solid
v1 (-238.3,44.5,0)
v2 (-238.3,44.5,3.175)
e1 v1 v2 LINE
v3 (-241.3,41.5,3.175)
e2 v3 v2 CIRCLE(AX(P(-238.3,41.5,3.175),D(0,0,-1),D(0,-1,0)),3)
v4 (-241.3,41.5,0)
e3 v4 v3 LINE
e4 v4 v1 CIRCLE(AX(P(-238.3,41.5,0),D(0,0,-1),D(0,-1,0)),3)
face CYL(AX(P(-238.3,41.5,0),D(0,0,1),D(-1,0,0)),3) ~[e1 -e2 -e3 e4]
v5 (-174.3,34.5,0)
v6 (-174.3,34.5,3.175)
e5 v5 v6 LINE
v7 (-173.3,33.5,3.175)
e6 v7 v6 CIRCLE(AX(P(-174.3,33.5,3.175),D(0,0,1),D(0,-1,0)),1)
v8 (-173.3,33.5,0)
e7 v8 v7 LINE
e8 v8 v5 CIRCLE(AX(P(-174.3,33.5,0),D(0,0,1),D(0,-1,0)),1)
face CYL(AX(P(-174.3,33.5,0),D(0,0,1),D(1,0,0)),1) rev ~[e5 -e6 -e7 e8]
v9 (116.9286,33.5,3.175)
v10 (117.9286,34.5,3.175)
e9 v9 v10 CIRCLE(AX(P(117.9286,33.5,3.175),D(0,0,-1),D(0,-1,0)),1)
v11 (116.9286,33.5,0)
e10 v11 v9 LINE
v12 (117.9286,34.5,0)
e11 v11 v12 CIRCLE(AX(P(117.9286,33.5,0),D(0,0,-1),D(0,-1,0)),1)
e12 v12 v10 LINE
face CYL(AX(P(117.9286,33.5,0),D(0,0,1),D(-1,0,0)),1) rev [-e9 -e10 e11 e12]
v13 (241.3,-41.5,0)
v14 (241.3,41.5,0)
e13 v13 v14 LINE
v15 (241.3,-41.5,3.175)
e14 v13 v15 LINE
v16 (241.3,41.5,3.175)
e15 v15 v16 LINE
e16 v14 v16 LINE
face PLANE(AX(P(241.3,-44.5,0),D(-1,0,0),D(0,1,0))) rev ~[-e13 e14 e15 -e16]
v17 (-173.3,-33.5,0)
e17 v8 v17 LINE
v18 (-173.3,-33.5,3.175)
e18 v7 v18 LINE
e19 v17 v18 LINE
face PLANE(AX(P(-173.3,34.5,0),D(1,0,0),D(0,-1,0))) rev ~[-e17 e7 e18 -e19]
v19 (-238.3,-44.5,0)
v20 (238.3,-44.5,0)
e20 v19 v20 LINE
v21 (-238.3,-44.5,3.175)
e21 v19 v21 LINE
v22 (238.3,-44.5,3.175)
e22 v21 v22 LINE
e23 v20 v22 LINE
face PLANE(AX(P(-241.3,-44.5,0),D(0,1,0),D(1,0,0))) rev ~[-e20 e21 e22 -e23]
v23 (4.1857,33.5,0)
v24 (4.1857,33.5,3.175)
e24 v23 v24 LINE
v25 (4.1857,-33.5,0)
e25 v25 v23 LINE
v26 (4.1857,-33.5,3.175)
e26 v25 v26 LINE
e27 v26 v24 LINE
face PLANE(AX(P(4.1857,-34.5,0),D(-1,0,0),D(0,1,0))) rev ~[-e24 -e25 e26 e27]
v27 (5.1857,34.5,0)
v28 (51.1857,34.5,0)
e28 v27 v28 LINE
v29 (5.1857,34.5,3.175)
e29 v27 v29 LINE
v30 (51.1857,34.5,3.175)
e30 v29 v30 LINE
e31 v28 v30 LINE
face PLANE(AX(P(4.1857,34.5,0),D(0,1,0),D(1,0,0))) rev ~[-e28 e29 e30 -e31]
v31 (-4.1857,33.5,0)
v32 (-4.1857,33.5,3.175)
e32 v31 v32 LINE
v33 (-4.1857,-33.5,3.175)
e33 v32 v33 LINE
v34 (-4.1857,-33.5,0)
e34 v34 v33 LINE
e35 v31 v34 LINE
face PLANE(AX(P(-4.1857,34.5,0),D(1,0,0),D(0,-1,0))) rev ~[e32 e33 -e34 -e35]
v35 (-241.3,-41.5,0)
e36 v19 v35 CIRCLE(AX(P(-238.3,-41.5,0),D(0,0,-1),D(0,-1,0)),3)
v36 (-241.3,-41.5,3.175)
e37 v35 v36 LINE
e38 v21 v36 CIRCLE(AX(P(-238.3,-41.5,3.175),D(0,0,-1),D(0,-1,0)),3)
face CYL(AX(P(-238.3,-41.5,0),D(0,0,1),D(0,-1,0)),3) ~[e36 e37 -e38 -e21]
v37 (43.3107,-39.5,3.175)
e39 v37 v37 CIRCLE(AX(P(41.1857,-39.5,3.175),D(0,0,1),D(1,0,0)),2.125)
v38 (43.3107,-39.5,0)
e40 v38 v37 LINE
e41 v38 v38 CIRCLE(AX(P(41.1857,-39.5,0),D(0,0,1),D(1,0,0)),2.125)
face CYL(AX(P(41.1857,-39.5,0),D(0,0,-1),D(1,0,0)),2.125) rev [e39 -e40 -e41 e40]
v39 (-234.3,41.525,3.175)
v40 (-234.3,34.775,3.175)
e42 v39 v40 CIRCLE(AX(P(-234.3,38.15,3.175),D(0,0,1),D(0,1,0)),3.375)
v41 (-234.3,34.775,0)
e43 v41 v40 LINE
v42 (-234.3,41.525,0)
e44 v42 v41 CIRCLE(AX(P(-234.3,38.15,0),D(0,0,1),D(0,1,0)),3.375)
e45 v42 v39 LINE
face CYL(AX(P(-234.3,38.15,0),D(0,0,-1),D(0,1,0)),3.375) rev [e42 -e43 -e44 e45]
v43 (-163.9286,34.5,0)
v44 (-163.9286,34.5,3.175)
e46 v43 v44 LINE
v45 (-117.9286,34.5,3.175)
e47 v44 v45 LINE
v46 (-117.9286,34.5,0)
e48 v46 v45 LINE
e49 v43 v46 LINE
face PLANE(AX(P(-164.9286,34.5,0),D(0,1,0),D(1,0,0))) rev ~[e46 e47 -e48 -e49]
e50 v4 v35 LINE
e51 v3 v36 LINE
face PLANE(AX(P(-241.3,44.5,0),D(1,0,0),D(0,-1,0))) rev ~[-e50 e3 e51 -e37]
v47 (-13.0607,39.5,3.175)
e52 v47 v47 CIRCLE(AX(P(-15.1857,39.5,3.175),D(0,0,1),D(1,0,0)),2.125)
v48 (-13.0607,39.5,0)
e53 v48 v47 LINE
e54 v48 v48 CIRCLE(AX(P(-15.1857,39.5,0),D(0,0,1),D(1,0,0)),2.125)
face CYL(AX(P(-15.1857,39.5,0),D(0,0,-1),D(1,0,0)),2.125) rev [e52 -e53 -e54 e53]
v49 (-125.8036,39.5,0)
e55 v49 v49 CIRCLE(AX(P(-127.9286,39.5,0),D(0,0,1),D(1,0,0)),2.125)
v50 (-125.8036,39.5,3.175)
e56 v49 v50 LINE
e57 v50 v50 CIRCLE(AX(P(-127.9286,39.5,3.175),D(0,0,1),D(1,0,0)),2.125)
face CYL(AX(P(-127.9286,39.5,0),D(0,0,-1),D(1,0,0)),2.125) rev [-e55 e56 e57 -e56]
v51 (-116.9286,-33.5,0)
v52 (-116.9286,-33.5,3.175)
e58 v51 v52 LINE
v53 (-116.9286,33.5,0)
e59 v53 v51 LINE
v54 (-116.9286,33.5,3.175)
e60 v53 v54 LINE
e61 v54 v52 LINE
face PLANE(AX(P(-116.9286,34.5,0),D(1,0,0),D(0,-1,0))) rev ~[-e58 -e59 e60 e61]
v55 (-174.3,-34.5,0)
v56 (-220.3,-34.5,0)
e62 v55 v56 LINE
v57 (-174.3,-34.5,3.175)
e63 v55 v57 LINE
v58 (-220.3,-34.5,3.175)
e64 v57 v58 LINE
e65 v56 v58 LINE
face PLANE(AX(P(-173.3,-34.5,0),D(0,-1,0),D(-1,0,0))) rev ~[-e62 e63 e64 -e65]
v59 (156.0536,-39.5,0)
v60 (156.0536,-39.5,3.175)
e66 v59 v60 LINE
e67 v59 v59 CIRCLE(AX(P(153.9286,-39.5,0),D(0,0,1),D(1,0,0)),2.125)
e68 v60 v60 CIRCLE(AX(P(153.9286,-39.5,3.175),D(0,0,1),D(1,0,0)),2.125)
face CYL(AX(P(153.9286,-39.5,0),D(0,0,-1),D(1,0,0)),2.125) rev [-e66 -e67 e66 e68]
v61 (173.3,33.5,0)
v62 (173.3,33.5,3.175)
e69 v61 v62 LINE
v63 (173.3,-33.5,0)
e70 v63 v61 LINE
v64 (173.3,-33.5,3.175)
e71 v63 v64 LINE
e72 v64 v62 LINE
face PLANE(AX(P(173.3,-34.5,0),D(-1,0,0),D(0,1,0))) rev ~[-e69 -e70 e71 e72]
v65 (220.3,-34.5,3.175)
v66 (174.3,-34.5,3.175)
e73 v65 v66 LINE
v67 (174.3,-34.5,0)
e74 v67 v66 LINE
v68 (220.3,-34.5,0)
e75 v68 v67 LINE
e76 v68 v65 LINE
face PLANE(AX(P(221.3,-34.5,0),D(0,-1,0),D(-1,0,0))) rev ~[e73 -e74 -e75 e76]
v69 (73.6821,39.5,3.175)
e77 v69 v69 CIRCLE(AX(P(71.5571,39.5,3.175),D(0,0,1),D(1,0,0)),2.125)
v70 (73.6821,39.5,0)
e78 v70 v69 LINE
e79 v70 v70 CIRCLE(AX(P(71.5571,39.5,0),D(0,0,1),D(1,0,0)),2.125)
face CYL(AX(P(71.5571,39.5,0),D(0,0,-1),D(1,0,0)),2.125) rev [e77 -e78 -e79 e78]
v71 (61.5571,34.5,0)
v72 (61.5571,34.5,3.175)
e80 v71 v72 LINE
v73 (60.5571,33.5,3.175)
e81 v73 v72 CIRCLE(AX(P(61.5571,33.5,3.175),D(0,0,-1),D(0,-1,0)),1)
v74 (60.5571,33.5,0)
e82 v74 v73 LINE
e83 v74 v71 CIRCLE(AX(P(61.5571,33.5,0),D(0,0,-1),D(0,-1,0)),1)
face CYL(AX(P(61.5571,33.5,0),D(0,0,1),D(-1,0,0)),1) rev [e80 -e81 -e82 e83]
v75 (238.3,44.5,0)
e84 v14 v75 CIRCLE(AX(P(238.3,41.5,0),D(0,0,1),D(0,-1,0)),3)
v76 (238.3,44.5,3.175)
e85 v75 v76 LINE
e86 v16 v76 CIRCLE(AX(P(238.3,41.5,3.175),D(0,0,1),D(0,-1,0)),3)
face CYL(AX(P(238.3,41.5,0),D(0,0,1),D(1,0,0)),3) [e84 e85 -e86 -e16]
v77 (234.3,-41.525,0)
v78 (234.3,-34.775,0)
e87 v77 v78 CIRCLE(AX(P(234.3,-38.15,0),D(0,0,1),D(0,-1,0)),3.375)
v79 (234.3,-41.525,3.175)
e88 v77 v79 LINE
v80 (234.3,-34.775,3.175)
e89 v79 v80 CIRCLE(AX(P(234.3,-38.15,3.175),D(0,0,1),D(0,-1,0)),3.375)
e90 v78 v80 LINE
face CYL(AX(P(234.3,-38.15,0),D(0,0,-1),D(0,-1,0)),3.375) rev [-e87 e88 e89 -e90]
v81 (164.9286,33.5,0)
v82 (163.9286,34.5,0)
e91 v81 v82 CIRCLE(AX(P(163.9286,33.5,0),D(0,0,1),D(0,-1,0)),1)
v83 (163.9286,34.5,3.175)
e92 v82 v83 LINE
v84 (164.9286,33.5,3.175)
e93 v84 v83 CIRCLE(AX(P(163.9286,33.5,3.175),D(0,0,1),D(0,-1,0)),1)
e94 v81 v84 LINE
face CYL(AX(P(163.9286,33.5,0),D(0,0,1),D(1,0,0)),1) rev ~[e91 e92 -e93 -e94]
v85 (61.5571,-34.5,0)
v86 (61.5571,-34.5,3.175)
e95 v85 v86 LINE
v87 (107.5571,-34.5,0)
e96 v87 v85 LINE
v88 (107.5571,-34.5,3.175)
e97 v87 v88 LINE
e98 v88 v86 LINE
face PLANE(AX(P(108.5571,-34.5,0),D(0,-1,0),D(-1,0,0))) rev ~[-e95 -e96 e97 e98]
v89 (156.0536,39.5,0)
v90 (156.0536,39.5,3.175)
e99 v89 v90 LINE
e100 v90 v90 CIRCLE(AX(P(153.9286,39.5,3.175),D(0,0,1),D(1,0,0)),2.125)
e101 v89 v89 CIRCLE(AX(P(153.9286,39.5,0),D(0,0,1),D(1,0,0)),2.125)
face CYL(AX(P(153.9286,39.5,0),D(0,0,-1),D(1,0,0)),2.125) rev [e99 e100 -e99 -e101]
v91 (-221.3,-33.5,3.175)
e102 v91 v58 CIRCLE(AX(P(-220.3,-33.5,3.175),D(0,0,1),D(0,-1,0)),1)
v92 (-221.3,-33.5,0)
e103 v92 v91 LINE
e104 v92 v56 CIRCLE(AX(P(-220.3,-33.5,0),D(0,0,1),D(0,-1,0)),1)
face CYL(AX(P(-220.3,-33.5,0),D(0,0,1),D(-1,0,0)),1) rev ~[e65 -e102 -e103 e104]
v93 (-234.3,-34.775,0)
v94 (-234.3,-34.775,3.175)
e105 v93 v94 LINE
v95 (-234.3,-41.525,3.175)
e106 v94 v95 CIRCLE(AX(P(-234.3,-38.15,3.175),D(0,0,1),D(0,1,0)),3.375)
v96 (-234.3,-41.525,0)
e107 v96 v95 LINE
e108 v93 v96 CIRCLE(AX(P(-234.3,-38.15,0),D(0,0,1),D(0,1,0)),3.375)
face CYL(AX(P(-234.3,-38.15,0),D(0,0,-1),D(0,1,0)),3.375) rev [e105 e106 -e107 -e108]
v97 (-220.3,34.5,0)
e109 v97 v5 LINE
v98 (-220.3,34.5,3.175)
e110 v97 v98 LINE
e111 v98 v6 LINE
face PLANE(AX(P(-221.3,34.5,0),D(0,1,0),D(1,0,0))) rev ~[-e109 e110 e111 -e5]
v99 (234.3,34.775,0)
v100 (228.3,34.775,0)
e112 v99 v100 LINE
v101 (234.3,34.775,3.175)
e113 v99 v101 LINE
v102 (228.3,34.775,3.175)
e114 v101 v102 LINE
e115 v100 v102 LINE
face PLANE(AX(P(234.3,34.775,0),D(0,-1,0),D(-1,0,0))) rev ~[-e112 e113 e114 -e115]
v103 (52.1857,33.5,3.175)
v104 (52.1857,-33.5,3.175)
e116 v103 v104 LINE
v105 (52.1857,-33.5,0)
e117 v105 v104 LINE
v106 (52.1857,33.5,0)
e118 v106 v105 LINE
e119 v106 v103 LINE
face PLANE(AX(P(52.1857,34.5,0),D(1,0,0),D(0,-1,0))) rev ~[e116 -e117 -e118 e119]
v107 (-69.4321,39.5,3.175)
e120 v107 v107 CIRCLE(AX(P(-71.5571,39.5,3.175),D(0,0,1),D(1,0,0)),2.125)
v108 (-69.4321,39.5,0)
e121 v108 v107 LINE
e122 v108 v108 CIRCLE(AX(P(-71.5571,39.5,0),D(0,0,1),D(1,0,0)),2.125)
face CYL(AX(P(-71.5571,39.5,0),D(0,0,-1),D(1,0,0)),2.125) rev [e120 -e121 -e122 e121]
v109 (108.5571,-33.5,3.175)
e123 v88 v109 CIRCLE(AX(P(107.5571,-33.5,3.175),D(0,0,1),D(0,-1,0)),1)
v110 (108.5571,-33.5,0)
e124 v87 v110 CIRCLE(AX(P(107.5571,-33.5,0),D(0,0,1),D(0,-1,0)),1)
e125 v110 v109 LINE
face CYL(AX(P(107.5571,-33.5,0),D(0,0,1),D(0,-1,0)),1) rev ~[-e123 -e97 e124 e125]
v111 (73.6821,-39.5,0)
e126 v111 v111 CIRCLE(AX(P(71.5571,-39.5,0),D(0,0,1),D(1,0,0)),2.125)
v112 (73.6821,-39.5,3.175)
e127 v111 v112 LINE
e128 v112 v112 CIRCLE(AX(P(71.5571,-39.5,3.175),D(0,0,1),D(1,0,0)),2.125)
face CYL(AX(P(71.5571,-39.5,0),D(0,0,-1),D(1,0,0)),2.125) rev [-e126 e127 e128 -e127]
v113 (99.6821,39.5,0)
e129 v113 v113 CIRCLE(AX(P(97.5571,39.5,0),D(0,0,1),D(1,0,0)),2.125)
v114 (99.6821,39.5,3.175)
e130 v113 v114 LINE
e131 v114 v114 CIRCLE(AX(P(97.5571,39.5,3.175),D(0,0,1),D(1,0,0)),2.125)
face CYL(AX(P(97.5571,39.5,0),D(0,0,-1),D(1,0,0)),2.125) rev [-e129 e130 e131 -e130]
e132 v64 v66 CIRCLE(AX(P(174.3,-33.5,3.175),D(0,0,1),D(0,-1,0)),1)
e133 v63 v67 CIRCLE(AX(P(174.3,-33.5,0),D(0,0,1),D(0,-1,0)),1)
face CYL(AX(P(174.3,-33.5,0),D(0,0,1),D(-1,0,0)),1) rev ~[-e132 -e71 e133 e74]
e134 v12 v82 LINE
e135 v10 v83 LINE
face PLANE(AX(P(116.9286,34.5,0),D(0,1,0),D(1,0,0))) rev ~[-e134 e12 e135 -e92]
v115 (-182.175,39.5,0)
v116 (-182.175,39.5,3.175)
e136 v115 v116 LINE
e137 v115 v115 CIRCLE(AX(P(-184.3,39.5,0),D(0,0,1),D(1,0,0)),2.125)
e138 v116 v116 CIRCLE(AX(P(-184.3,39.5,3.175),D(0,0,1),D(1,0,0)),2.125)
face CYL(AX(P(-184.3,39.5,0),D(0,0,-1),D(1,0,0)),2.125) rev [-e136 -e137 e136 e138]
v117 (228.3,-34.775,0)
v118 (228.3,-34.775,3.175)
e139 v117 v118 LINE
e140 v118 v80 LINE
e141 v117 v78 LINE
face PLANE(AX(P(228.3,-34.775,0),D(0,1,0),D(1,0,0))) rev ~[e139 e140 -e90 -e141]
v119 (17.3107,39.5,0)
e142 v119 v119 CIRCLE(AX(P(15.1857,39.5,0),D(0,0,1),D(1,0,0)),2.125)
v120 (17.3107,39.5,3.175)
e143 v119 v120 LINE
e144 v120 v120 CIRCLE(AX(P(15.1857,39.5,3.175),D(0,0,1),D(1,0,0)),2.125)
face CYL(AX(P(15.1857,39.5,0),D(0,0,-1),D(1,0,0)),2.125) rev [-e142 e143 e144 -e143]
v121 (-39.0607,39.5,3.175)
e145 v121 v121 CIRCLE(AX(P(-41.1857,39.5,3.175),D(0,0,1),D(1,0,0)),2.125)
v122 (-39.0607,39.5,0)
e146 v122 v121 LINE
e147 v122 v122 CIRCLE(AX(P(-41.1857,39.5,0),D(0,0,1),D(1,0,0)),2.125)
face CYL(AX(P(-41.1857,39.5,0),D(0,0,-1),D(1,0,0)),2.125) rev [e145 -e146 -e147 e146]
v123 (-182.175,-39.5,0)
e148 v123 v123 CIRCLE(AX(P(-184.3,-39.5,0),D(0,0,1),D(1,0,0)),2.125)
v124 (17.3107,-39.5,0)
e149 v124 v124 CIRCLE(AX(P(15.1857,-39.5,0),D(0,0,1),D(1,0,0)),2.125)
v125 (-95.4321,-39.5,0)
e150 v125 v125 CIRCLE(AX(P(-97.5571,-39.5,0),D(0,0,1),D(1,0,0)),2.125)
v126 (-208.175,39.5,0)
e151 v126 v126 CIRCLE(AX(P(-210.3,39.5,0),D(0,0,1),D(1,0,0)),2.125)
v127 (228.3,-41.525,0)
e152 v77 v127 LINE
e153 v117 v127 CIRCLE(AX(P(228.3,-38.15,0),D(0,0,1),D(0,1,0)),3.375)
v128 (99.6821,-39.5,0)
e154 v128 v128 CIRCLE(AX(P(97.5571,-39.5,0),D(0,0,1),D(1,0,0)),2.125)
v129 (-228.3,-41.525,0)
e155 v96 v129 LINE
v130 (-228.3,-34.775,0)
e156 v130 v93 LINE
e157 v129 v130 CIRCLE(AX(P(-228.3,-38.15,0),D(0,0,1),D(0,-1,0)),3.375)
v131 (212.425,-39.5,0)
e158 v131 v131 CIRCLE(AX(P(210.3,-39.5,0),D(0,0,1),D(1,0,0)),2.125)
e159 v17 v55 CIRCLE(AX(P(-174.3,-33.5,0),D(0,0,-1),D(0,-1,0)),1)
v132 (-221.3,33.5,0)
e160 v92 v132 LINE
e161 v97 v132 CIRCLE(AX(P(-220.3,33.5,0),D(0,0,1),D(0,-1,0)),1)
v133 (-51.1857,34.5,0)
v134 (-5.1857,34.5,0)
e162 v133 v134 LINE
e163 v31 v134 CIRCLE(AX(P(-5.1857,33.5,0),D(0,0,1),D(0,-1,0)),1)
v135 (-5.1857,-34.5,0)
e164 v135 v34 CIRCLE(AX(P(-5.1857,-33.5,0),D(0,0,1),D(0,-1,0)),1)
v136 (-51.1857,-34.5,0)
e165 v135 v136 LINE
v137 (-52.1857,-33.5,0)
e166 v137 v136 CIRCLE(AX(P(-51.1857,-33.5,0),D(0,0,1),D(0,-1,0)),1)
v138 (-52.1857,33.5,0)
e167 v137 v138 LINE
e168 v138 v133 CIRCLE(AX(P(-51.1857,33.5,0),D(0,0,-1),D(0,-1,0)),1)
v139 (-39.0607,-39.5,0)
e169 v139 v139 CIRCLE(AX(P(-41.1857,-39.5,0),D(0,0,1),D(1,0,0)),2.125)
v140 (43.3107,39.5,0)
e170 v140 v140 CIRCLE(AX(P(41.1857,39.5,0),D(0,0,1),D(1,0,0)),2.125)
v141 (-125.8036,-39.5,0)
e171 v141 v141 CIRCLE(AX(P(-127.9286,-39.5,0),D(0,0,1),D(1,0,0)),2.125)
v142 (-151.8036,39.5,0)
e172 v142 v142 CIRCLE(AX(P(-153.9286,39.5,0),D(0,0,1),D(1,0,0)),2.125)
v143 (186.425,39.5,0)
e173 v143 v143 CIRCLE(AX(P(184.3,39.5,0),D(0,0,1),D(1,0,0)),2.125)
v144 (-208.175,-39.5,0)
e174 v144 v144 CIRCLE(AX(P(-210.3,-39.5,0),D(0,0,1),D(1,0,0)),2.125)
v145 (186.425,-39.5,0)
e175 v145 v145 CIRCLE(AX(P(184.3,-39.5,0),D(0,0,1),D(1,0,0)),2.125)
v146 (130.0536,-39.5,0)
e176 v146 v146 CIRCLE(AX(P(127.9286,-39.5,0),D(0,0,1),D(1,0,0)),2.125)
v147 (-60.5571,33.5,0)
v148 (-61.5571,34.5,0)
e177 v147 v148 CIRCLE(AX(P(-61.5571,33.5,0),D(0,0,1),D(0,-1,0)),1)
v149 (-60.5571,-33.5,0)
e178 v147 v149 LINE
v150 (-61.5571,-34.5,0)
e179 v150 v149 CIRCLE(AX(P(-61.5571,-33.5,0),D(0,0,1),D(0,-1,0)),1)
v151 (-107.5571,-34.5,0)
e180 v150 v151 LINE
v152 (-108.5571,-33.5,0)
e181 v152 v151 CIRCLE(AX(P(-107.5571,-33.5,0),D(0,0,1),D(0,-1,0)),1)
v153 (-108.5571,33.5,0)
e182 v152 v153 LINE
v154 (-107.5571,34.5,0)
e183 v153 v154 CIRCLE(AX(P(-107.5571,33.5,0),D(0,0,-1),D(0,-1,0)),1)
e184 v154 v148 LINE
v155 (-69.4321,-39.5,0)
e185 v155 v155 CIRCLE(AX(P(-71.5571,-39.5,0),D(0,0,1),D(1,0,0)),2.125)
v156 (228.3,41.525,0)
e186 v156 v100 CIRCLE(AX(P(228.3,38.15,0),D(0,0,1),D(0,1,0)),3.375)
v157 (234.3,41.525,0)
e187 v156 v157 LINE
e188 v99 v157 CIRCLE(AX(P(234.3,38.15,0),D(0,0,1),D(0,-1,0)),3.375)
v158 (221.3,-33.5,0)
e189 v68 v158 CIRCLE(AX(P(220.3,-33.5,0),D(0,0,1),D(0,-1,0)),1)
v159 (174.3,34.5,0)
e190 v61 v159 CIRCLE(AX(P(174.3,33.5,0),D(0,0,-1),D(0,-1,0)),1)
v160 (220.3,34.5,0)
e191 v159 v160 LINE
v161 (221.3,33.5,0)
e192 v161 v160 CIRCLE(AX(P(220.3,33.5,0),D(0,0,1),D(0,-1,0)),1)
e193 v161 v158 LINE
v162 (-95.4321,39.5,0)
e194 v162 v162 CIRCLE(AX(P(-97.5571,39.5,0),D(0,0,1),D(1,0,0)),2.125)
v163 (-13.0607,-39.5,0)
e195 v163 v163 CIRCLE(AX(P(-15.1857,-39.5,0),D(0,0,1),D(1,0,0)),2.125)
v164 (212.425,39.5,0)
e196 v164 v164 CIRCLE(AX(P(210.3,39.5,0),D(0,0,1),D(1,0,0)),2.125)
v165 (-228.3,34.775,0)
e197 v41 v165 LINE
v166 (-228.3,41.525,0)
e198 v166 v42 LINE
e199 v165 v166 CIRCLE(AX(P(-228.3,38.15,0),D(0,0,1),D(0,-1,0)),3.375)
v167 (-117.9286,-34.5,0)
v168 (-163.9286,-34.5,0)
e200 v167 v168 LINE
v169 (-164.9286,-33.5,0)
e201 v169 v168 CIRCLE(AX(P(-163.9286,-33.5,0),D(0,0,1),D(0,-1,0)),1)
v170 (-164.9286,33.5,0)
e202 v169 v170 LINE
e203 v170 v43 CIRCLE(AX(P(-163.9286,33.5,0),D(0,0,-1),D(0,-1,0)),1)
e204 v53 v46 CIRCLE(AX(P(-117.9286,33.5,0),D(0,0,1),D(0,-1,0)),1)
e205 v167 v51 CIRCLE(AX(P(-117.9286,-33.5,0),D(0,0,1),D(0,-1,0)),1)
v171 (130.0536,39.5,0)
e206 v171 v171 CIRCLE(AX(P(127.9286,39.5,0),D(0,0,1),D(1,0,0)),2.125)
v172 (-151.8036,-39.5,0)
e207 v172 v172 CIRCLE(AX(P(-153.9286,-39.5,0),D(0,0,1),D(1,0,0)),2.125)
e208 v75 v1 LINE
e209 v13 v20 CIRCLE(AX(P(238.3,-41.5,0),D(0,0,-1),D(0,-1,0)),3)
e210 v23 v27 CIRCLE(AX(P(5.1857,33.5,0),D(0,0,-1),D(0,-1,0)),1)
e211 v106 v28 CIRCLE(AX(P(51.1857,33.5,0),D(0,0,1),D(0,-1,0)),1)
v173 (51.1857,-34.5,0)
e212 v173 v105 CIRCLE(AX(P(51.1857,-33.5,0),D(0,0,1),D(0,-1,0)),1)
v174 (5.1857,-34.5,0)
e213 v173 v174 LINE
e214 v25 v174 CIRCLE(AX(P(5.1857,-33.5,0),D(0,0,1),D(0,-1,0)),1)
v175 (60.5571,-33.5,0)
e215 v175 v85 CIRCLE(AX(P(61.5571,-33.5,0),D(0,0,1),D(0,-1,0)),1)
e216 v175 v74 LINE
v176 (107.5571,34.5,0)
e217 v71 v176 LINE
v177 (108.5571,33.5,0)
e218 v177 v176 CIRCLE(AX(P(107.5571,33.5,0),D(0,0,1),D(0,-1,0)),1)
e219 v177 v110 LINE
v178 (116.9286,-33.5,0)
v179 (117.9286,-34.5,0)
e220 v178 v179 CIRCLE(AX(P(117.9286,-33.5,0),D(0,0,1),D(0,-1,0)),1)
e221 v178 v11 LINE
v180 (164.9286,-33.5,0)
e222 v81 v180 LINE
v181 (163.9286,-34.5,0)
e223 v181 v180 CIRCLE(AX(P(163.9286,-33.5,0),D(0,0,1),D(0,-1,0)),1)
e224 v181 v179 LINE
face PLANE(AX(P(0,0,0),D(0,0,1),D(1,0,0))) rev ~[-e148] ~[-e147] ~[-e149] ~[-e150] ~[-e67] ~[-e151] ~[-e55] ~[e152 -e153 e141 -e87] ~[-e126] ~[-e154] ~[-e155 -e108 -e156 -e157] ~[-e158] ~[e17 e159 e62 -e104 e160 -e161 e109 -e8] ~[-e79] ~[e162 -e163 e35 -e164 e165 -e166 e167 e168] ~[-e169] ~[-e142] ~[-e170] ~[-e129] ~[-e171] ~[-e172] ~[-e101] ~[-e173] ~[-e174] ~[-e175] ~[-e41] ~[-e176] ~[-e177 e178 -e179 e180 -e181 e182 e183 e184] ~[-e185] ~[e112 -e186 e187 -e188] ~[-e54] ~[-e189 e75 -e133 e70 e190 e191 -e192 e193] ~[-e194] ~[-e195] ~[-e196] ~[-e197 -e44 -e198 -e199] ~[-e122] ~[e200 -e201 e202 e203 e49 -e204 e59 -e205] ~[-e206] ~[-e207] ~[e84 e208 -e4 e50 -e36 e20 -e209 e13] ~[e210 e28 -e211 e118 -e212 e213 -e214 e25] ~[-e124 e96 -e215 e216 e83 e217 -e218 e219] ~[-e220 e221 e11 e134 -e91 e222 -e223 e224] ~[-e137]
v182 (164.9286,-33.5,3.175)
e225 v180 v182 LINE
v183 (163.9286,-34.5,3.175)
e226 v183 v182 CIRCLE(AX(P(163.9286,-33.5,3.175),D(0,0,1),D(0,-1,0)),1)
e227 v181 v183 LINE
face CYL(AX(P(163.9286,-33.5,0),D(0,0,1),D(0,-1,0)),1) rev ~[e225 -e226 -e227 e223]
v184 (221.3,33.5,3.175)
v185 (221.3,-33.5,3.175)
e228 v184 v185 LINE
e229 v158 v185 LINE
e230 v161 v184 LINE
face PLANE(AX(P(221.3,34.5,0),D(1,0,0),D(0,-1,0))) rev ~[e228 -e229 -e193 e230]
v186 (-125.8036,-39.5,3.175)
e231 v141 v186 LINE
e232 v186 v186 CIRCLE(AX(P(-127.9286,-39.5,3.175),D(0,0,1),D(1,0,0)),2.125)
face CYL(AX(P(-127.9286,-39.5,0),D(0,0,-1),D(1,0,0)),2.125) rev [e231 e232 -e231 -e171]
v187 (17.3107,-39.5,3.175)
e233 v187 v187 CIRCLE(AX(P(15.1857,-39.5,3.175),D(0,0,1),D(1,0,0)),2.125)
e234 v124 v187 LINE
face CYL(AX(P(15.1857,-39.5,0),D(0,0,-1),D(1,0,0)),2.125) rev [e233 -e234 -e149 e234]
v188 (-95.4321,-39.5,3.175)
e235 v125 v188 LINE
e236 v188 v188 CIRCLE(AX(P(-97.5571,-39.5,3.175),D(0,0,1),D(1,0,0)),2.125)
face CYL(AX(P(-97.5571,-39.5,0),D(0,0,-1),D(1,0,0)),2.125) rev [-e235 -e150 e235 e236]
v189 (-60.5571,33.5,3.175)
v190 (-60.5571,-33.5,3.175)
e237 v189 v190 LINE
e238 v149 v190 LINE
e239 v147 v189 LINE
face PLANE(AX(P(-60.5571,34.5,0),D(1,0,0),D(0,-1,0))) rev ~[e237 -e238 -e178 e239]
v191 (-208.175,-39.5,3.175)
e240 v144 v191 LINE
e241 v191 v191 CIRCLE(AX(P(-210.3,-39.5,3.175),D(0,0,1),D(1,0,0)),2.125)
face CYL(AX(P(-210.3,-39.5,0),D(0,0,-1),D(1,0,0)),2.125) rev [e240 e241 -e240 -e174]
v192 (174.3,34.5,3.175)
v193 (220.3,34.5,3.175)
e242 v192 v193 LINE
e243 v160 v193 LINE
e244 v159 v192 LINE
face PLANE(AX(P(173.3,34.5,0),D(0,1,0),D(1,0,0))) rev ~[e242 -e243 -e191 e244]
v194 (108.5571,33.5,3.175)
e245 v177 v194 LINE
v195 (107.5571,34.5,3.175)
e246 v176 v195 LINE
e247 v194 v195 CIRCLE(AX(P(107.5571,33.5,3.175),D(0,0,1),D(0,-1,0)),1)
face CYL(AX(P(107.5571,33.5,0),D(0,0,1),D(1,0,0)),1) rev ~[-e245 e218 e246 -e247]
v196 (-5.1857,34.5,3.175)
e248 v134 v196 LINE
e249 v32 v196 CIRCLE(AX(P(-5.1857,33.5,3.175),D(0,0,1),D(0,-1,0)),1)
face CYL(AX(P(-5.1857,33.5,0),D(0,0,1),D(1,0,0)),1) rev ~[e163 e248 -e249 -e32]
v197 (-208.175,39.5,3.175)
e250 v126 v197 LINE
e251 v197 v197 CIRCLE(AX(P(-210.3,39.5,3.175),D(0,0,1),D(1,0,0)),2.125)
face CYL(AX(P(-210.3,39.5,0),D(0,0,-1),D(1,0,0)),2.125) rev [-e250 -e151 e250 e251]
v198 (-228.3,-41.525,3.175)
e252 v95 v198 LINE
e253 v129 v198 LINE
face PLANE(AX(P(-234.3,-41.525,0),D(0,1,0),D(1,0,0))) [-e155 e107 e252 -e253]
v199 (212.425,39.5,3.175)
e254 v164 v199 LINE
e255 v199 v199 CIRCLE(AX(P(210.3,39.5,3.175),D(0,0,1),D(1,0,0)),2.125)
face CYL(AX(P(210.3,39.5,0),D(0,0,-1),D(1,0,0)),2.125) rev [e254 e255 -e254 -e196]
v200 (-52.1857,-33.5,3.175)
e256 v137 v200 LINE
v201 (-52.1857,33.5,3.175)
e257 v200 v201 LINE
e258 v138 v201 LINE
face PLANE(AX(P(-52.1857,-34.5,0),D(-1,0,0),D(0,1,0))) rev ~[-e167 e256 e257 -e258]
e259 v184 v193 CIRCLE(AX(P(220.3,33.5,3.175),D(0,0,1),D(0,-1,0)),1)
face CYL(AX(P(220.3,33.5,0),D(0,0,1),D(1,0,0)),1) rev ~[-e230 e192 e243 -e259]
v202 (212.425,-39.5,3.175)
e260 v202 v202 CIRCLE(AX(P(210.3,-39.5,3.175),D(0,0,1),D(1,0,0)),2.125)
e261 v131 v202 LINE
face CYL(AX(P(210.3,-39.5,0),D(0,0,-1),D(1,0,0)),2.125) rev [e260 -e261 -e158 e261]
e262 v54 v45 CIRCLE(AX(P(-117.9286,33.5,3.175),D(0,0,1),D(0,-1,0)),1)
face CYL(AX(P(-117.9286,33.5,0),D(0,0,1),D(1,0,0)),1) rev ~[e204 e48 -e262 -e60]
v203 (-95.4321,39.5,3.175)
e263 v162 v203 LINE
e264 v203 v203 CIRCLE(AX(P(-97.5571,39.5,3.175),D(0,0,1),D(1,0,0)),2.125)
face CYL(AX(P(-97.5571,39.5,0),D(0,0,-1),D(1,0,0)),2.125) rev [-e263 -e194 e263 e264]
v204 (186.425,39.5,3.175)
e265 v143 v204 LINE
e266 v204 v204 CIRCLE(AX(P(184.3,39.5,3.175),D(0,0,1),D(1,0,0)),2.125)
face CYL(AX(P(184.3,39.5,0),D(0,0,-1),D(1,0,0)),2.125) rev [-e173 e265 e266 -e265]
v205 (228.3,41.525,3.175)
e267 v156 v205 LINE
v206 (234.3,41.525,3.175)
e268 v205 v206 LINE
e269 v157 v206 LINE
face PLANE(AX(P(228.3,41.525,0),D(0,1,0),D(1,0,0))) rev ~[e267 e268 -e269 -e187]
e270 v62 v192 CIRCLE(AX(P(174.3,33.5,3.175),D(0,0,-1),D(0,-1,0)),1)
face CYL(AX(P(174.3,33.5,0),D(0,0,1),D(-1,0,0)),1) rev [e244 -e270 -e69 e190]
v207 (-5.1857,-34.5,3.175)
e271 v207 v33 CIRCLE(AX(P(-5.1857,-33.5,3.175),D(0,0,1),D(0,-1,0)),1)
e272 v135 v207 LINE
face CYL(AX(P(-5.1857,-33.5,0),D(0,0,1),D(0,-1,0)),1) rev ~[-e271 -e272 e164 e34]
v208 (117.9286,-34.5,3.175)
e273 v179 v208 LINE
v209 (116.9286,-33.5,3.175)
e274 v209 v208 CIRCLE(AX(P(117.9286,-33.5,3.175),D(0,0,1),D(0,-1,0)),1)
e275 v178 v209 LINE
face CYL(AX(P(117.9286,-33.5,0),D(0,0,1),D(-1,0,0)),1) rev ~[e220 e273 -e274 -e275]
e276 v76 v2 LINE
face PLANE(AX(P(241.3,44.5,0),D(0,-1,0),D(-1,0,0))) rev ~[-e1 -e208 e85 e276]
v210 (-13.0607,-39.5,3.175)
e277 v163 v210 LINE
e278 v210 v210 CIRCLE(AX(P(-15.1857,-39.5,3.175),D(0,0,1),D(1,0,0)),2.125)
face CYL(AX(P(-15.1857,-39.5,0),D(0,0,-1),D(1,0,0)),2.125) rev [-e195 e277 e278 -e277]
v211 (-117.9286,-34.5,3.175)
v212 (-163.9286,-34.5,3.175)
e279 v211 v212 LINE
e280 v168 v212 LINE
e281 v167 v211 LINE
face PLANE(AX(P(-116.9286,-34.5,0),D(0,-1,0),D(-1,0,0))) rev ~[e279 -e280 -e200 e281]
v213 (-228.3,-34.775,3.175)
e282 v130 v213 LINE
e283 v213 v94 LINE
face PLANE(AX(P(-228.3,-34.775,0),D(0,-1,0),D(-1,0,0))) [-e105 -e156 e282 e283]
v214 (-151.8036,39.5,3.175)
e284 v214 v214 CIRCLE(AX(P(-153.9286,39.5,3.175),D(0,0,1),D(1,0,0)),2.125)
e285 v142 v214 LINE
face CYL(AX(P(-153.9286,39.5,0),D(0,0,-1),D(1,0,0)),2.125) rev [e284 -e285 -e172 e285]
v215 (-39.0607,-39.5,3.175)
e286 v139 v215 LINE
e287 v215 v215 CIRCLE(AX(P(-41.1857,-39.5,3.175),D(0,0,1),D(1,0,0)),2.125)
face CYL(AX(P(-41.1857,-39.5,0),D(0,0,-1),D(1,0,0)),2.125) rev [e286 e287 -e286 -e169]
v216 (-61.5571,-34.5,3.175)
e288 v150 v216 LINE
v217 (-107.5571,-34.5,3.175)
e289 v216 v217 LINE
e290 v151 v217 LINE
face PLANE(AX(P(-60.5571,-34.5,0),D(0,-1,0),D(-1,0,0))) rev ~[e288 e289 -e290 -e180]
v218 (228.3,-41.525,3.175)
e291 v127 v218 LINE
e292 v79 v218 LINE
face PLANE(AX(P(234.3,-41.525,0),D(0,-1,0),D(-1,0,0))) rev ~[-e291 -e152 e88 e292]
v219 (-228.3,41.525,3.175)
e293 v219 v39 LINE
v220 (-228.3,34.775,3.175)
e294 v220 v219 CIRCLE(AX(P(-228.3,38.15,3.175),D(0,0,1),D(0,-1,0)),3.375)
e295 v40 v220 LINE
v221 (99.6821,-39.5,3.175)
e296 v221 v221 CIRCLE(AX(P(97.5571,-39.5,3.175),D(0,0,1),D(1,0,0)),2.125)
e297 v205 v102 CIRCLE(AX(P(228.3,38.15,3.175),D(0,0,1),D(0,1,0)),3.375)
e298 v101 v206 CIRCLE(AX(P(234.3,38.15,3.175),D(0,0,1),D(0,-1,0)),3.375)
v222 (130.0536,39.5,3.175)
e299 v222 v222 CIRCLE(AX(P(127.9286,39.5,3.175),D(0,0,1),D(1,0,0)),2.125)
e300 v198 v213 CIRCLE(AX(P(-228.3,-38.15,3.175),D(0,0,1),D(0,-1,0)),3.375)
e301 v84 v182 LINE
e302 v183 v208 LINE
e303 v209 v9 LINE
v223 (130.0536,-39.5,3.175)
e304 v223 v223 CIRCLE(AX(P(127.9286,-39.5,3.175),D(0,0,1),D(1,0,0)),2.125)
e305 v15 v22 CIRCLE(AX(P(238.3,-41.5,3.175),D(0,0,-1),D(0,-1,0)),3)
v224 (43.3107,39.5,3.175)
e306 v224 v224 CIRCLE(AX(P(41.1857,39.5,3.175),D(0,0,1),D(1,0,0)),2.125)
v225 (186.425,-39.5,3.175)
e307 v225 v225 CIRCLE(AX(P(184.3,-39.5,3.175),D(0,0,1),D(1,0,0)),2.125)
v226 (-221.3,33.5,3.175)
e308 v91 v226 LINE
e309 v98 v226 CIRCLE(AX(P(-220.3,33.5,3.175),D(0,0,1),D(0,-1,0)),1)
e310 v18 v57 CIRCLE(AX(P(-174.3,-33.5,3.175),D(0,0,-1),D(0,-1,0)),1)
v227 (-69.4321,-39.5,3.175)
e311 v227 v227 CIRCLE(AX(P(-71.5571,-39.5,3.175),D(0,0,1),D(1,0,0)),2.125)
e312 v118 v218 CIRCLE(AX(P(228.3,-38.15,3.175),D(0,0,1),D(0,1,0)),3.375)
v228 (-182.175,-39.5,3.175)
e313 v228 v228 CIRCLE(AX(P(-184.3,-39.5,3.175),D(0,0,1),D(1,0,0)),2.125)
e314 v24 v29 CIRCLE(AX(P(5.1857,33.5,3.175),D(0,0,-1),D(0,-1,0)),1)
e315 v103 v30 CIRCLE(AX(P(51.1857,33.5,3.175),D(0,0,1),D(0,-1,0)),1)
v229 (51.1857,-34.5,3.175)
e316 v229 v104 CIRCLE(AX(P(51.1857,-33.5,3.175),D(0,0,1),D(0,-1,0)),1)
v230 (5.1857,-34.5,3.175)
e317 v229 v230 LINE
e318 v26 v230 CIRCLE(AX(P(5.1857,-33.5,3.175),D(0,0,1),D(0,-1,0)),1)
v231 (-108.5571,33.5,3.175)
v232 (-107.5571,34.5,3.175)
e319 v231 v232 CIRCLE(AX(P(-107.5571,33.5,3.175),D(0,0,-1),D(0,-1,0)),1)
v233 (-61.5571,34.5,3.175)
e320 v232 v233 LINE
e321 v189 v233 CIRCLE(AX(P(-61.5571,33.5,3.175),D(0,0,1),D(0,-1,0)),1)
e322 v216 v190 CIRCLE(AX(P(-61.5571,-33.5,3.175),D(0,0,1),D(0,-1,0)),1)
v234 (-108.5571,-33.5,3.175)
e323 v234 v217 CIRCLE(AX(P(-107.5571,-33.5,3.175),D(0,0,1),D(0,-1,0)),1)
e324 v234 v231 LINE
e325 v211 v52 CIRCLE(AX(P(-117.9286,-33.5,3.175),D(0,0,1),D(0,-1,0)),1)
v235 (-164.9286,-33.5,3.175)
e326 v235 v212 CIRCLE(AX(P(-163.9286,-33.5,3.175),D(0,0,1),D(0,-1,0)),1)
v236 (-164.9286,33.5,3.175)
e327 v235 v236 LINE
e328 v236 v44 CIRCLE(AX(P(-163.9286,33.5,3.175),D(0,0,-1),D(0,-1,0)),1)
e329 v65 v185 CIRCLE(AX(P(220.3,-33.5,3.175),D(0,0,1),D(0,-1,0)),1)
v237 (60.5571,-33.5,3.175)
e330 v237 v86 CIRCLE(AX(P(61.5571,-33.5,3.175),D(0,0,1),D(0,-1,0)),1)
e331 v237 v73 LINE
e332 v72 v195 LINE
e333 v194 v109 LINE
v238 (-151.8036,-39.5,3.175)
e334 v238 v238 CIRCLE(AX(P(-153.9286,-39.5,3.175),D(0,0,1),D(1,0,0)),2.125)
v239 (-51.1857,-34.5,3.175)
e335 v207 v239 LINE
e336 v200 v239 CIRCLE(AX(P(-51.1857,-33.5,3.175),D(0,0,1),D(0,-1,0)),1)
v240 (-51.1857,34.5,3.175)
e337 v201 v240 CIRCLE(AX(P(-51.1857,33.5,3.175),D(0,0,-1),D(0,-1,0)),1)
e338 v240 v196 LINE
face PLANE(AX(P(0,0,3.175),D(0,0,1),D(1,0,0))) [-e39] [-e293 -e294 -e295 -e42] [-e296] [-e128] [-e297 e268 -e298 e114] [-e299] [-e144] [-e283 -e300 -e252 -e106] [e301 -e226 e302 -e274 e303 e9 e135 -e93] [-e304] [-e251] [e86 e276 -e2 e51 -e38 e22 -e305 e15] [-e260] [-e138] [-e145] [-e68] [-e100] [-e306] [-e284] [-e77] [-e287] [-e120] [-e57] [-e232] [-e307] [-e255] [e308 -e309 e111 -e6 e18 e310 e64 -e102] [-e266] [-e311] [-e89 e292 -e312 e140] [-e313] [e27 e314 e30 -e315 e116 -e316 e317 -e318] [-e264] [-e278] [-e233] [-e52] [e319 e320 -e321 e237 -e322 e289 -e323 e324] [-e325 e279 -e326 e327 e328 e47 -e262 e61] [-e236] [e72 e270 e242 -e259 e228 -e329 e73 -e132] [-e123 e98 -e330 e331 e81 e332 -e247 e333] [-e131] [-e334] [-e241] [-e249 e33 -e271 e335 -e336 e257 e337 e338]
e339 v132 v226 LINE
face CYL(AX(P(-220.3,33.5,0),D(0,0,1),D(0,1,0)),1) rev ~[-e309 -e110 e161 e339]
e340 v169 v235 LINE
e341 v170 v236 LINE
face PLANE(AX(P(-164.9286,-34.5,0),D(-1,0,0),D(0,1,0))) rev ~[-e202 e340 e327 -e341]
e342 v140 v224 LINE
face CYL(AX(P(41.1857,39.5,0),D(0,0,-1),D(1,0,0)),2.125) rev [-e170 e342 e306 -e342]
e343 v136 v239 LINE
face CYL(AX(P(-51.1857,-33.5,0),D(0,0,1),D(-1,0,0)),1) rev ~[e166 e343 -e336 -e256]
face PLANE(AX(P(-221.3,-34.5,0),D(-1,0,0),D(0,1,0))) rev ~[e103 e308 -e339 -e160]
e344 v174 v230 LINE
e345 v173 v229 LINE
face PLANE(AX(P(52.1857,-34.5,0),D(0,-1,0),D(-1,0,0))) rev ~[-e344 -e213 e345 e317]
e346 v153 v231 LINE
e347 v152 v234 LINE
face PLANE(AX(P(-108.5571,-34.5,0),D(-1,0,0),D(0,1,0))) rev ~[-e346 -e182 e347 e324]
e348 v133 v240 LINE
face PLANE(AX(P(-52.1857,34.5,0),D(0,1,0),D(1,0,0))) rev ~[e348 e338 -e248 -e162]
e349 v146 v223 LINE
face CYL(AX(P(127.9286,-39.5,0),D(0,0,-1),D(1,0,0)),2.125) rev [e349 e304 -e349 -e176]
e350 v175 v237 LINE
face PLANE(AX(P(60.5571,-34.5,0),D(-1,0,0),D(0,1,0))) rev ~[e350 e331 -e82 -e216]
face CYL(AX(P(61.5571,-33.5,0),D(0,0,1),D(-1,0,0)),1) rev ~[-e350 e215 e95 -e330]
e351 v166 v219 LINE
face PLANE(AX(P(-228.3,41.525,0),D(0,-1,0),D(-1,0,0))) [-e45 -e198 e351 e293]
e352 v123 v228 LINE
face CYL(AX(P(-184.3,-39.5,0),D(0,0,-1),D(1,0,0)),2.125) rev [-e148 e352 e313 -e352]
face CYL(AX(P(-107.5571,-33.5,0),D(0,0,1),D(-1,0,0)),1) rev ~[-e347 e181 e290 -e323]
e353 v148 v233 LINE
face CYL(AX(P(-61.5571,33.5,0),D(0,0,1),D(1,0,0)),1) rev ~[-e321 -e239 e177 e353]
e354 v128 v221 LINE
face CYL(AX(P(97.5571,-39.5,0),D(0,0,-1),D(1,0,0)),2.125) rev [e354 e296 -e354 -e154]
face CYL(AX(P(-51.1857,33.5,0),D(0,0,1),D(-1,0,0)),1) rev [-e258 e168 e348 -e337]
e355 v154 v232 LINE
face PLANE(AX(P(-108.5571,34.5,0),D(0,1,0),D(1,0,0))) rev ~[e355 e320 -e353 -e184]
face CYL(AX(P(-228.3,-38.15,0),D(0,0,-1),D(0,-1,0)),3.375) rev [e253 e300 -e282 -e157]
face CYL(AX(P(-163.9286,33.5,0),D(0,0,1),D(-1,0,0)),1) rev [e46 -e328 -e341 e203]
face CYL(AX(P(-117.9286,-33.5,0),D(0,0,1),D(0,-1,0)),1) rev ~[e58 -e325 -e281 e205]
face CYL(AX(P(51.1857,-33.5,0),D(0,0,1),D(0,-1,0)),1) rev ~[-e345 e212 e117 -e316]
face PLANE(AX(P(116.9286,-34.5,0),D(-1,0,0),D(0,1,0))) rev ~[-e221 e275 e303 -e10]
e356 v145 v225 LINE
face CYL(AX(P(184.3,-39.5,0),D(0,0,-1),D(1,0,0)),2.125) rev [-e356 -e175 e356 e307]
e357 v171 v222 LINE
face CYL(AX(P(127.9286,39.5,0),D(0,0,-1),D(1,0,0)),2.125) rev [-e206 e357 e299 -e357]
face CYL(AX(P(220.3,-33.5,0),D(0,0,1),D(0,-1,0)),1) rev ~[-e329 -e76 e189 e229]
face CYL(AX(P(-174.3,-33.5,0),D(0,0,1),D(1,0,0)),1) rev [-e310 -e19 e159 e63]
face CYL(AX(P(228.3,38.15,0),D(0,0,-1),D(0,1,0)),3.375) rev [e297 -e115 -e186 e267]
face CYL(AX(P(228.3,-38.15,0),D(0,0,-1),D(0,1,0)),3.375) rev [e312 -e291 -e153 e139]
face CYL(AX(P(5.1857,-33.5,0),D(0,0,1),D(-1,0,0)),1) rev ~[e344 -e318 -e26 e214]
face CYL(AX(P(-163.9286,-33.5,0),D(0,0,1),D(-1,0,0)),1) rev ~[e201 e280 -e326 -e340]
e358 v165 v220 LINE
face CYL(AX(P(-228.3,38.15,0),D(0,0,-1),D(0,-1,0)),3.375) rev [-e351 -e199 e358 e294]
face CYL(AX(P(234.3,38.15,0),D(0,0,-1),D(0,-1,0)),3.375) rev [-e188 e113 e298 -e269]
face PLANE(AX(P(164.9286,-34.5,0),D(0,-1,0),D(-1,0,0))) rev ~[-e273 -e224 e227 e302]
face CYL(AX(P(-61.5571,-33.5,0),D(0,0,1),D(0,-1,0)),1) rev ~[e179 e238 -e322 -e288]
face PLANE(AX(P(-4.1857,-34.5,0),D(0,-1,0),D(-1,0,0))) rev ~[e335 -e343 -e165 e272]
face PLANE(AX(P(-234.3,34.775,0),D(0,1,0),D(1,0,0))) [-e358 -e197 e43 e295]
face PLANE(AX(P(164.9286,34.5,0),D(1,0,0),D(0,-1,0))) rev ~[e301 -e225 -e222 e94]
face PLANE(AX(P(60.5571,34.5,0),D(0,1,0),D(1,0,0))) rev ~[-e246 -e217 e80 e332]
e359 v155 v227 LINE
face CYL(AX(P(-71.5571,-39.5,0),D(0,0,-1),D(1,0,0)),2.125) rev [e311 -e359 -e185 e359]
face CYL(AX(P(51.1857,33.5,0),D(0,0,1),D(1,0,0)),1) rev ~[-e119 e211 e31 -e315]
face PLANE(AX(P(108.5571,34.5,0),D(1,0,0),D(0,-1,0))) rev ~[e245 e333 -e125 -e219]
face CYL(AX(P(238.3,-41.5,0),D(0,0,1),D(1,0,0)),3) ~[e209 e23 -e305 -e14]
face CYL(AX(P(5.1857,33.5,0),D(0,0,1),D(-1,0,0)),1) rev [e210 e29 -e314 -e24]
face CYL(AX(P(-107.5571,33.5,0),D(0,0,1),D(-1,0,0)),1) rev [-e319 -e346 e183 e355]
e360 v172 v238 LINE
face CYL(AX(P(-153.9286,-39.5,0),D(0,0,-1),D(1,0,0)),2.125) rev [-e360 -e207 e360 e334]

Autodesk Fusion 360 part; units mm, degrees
sketch "Sketch1" plane through (0, 0, 0) normal (0, 0, 1) x (1, 0, 0) in component "Component"
  line L0 (241.3, 44.5) -> (-241.3, 44.5)
  line L1 (-241.3, 44.5) -> (-241.3, -44.5)
  line L2 (-241.3, -44.5) -> (241.3, -44.5)
  line L3 (241.3, -44.5) -> (241.3, 44.5)
  line L4 (241.3, 44.5) -> (-241.3, -44.5) construction
  line L5 (-241.3, 44.5) -> (241.3, -44.5) construction
  line L6 (-234.3, 34.775) -> (-228.3, 34.775)
  arc A0 (-228.3, 34.775) -> (-228.3, 41.525) centre (-228.3, 38.15) ccw
  line L7 (-228.3, 41.525) -> (-234.3, 41.525)
  arc A1 (-234.3, 41.525) -> (-234.3, 34.775) centre (-234.3, 38.15) ccw
  line L8 (-234.3, 38.15) -> (-228.3, 38.15) construction
  line L9 (-234.3, -41.525) -> (-228.3, -41.525)
  arc A2 (-228.3, -41.525) -> (-228.3, -34.775) centre (-228.3, -38.15) ccw
  line L10 (-228.3, -34.775) -> (-234.3, -34.775)
  arc A3 (-234.3, -34.775) -> (-234.3, -41.525) centre (-234.3, -38.15) ccw
  line L11 (-234.3, -38.15) -> (-228.3, -38.15) construction
  line L12 (0, 0) -> (0, -44.5) construction
  arc A4 (234.3, 34.775) -> (234.3, 41.525) centre (234.3, 38.15) ccw
  line L13 (234.3, 34.775) -> (228.3, 34.775)
  line L14 (228.3, 41.525) -> (234.3, 41.525)
  arc A5 (228.3, 41.525) -> (228.3, 34.775) centre (228.3, 38.15) ccw
  arc A6 (234.3, -41.525) -> (234.3, -34.775) centre (234.3, -38.15) ccw
  line L15 (228.3, -34.775) -> (234.3, -34.775)
  arc A7 (228.3, -34.775) -> (228.3, -41.525) centre (228.3, -38.15) ccw
  line L16 (234.3, -41.525) -> (228.3, -41.525)
  line L17 (-173.3, -34.5) -> (-221.3, -34.5)
  line L18 (-221.3, -34.5) -> (-221.3, 34.5)
  line L19 (-221.3, 34.5) -> (-173.3, 34.5)
  line L20 (-173.3, 34.5) -> (-173.3, -34.5)
  line L21 (-173.3, -34.5) -> (-221.3, 34.5) construction
  line L22 (-221.3, -34.5) -> (-173.3, 34.5) construction
  circle A8 centre (-210.3, 39.5) radius 2.125
  circle A9 centre (-184.3, 39.5) radius 2.125
  circle A10 centre (-210.3, -39.5) radius 2.125
  circle A11 centre (-184.3, -39.5) radius 2.125
  line L23 (-184.3, 39.5) -> (-210.3, 39.5) construction
  line L24 (-197.3, 39.5) -> (-197.3, 34.5) construction
  circle A12 centre (-153.9286, 39.5) radius 2.125
  circle A13 centre (-127.9286, 39.5) radius 2.125
  line L25 (-164.9286, 34.5) -> (-116.9286, 34.5)
  line L26 (-164.9286, -34.5) -> (-164.9286, 34.5)
  line L27 (-116.9286, 34.5) -> (-116.9286, -34.5)
  line L28 (-116.9286, -34.5) -> (-164.9286, -34.5)
  circle A14 centre (-153.9286, -39.5) radius 2.125
  circle A15 centre (-127.9286, -39.5) radius 2.125
  circle A16 centre (-97.5571, 39.5) radius 2.125
  circle A17 centre (-71.5571, 39.5) radius 2.125
  line L29 (-108.5571, 34.5) -> (-60.5571, 34.5)
  line L30 (-108.5571, -34.5) -> (-108.5571, 34.5)
  line L31 (-60.5571, 34.5) -> (-60.5571, -34.5)
  line L32 (-60.5571, -34.5) -> (-108.5571, -34.5)
  circle A18 centre (-97.5571, -39.5) radius 2.125
  circle A19 centre (-71.5571, -39.5) radius 2.125
  circle A20 centre (-41.1857, 39.5) radius 2.125
  circle A21 centre (-15.1857, 39.5) radius 2.125
  line L33 (-52.1857, 34.5) -> (-4.1857, 34.5)
  line L34 (-52.1857, -34.5) -> (-52.1857, 34.5)
  line L35 (-4.1857, 34.5) -> (-4.1857, -34.5)
  line L36 (-4.1857, -34.5) -> (-52.1857, -34.5)
  circle A22 centre (-41.1857, -39.5) radius 2.125
  circle A23 centre (-15.1857, -39.5) radius 2.125
  circle A24 centre (15.1857, 39.5) radius 2.125
  circle A25 centre (41.1857, 39.5) radius 2.125
  line L37 (4.1857, 34.5) -> (52.1857, 34.5)
  line L38 (4.1857, -34.5) -> (4.1857, 34.5)
  line L39 (52.1857, 34.5) -> (52.1857, -34.5)
  line L40 (52.1857, -34.5) -> (4.1857, -34.5)
  circle A26 centre (15.1857, -39.5) radius 2.125
  circle A27 centre (41.1857, -39.5) radius 2.125
  circle A28 centre (71.5571, 39.5) radius 2.125
  circle A29 centre (97.5571, 39.5) radius 2.125
  line L41 (60.5571, 34.5) -> (108.5571, 34.5)
  line L42 (60.5571, -34.5) -> (60.5571, 34.5)
  line L43 (108.5571, 34.5) -> (108.5571, -34.5)
  line L44 (108.5571, -34.5) -> (60.5571, -34.5)
  circle A30 centre (71.5571, -39.5) radius 2.125
  circle A31 centre (97.5571, -39.5) radius 2.125
  circle A32 centre (127.9286, 39.5) radius 2.125
  circle A33 centre (153.9286, 39.5) radius 2.125
  line L45 (116.9286, 34.5) -> (164.9286, 34.5)
  line L46 (116.9286, -34.5) -> (116.9286, 34.5)
  line L47 (164.9286, 34.5) -> (164.9286, -34.5)
  line L48 (164.9286, -34.5) -> (116.9286, -34.5)
  circle A34 centre (127.9286, -39.5) radius 2.125
  circle A35 centre (153.9286, -39.5) radius 2.125
  circle A36 centre (184.3, 39.5) radius 2.125
  circle A37 centre (210.3, 39.5) radius 2.125
  line L49 (173.3, 34.5) -> (221.3, 34.5)
  line L50 (173.3, -34.5) -> (173.3, 34.5)
  line L51 (221.3, 34.5) -> (221.3, -34.5)
  line L52 (221.3, -34.5) -> (173.3, -34.5)
  circle A38 centre (184.3, -39.5) radius 2.125
  circle A39 centre (210.3, -39.5) radius 2.125
  point P0 (-197.3, 0)
  dimension "d1" = 482.6
  dimension "d3" = 6.75
  dimension "d4" = 6
  dimension "d5" = 6.75
  dimension "d6" = 6.35
  dimension "d7" = 7
  dimension "d9" = 6.35
  dimension "d10" = 89
  dimension "d11" = 48
  dimension "d12" = 69
  dimension "d13" = 20
  dimension "d14" = 26
  dimension "d15" = 5
  dimension "d16" = 5
  dimension "d17" = 4.25
  dimension "d20" = 394.6
  dimension "d21" = 0
extrude "Extrude1" add sketch "Sketch1" along normal blind 3.175 in component "Component"
fillet "Fillet1" radius 3 4 edges at (-241.3, -44.5, 1.5875) (-241.3, 44.5, 1.5875) (241.3, 44.5, 1.5875) (241.3, -44.5, 1.5875) in component "Component"
fillet "Fillet1" radius 1 32 edges at (-221.3, 34.5, 1.5875) (-173.3, 34.5, 1.5875) (-164.9286, 34.5, 1.5875) (-116.9286, 34.5, 1.5875) (-108.5571, 34.5, 1.5875) (-52.1857, 34.5, 1.5875) (-60.5571, 34.5, 1.5875) (4.1857, 34.5, 1.5875) (-4.1857, 34.5, 1.5875) (60.5571, 34.5, 1.5875) (52.1857, 34.5, 1.5875) (108.5571, 34.5, 1.5875) (116.9286, 34.5, 1.5875) (173.3, 34.5, 1.5875) (164.9286, 34.5, 1.5875) (221.3, 34.5, 1.5875) (221.3, -34.5, 1.5875) (173.3, -34.5, 1.5875) (164.9286, -34.5, 1.5875) (116.9286, -34.5, 1.5875) (108.5571, -34.5, 1.5875) (60.5571, -34.5, 1.5875) (52.1857, -34.5, 1.5875) (4.1857, -34.5, 1.5875) (-4.1857, -34.5, 1.5875) (-52.1857, -34.5, 1.5875) (-60.5571, -34.5, 1.5875) (-108.5571, -34.5, 1.5875) (-116.9286, -34.5, 1.5875) (-164.9286, -34.5, 1.5875) (-173.3, -34.5, 1.5875) (-221.3, -34.5, 1.5875) in component "Component"
sketch "Sketch2" plane through (0, 0, 3.175) normal (0, 0, 1) x (-1, 0, 0) in component "Component"
  arc A0 (-238.3, 44.5) -> (-241.3, 41.5) centre (-238.3, 41.5) ccw
  line L0 (-241.3, 41.5) -> (-241.3, -41.5)
  arc A1 (-241.3, -41.5) -> (-238.3, -44.5) centre (-238.3, -41.5) ccw
  line L1 (-238.3, -44.5) -> (238.3, -44.5)
  arc A2 (238.3, -44.5) -> (241.3, -41.5) centre (238.3, -41.5) ccw
  line L2 (241.3, -41.5) -> (241.3, 41.5)
  arc A3 (241.3, 41.5) -> (238.3, 44.5) centre (238.3, 41.5) ccw
  line L3 (238.3, 44.5) -> (-238.3, 44.5)
  line L4 (-52.1857, -33.5) -> (-52.1857, 33.5)
  arc A4 (-51.1857, 34.5) -> (-52.1857, 33.5) centre (-51.1857, 33.5) ccw
  line L5 (-51.1857, 34.5) -> (-5.1857, 34.5)
  arc A5 (-4.1857, 33.5) -> (-5.1857, 34.5) centre (-5.1857, 33.5) ccw
  line L6 (-4.1857, 33.5) -> (-4.1857, -33.5)
  arc A6 (-5.1857, -34.5) -> (-4.1857, -33.5) centre (-5.1857, -33.5) ccw
  line L7 (-5.1857, -34.5) -> (-51.1857, -34.5)
  arc A7 (-52.1857, -33.5) -> (-51.1857, -34.5) centre (-51.1857, -33.5) ccw
  circle A8 centre (-15.1857, -39.5) radius 2.125
  circle A9 centre (-15.1857, 39.5) radius 2.125
  circle A10 centre (41.1857, 39.5) radius 2.125
  circle A11 centre (41.1857, -39.5) radius 2.125
  circle A12 centre (-184.3, -39.5) radius 2.125
  circle A13 centre (-210.3, 39.5) radius 2.125
  line L8 (-164.9286, -33.5) -> (-164.9286, 33.5)
  arc A14 (-163.9286, 34.5) -> (-164.9286, 33.5) centre (-163.9286, 33.5) ccw
  line L9 (-163.9286, 34.5) -> (-117.9286, 34.5)
  arc A15 (-116.9286, 33.5) -> (-117.9286, 34.5) centre (-117.9286, 33.5) ccw
  line L10 (-116.9286, 33.5) -> (-116.9286, -33.5)
  arc A16 (-117.9286, -34.5) -> (-116.9286, -33.5) centre (-117.9286, -33.5) ccw
  line L11 (-117.9286, -34.5) -> (-163.9286, -34.5)
  arc A17 (-164.9286, -33.5) -> (-163.9286, -34.5) centre (-163.9286, -33.5) ccw
  circle A18 centre (184.3, -39.5) radius 2.125
  line L12 (220.3, -34.5) -> (174.3, -34.5)
  arc A19 (173.3, -33.5) -> (174.3, -34.5) centre (174.3, -33.5) ccw
  line L13 (173.3, -33.5) -> (173.3, 33.5)
  arc A20 (174.3, 34.5) -> (173.3, 33.5) centre (174.3, 33.5) ccw
  line L14 (174.3, 34.5) -> (220.3, 34.5)
  arc A21 (221.3, 33.5) -> (220.3, 34.5) centre (220.3, 33.5) ccw
  line L15 (221.3, 33.5) -> (221.3, -33.5)
  arc A22 (220.3, -34.5) -> (221.3, -33.5) centre (220.3, -33.5) ccw
  circle A23 centre (127.9286, -39.5) radius 2.125
  circle A24 centre (210.3, 39.5) radius 2.125
  line L16 (4.1857, -33.5) -> (4.1857, 33.5)
  arc A25 (5.1857, 34.5) -> (4.1857, 33.5) centre (5.1857, 33.5) ccw
  line L17 (5.1857, 34.5) -> (51.1857, 34.5)
  arc A26 (52.1857, 33.5) -> (51.1857, 34.5) centre (51.1857, 33.5) ccw
  line L18 (52.1857, 33.5) -> (52.1857, -33.5)
  arc A27 (51.1857, -34.5) -> (52.1857, -33.5) centre (51.1857, -33.5) ccw
  line L19 (51.1857, -34.5) -> (5.1857, -34.5)
  arc A28 (4.1857, -33.5) -> (5.1857, -34.5) centre (5.1857, -33.5) ccw
  circle A29 centre (184.3, 39.5) radius 2.125
  circle A30 centre (210.3, -39.5) radius 2.125
  circle A31 centre (153.9286, -39.5) radius 2.125
  arc A32 (234.3, 34.775) -> (234.3, 41.525) centre (234.3, 38.15) ccw
  line L20 (234.3, 34.775) -> (228.3, 34.775)
  arc A33 (228.3, 41.525) -> (228.3, 34.775) centre (228.3, 38.15) ccw
  line L21 (228.3, 41.525) -> (234.3, 41.525)
  arc A34 (-234.3, -34.775) -> (-234.3, -41.525) centre (-234.3, -38.15) ccw
  line L22 (-234.3, -34.775) -> (-228.3, -34.775)
  arc A35 (-228.3, -41.525) -> (-228.3, -34.775) centre (-228.3, -38.15) ccw
  line L23 (-228.3, -41.525) -> (-234.3, -41.525)
  arc A36 (-228.3, 34.775) -> (-228.3, 41.525) centre (-228.3, 38.15) ccw
  line L24 (-228.3, 34.775) -> (-234.3, 34.775)
  arc A37 (-234.3, 41.525) -> (-234.3, 34.775) centre (-234.3, 38.15) ccw
  line L25 (-234.3, 41.525) -> (-228.3, 41.525)
  arc A38 (234.3, -41.525) -> (234.3, -34.775) centre (234.3, -38.15) ccw
  line L26 (234.3, -41.525) -> (228.3, -41.525)
  arc A39 (228.3, -34.775) -> (228.3, -41.525) centre (228.3, -38.15) ccw
  line L27 (228.3, -34.775) -> (234.3, -34.775)
  circle A40 centre (-153.9286, -39.5) radius 2.125
  circle A41 centre (-184.3, 39.5) radius 2.125
  line L28 (-221.3, -33.5) -> (-221.3, 33.5)
  arc A42 (-220.3, 34.5) -> (-221.3, 33.5) centre (-220.3, 33.5) ccw
  line L29 (-220.3, 34.5) -> (-174.3, 34.5)
  arc A43 (-173.3, 33.5) -> (-174.3, 34.5) centre (-174.3, 33.5) ccw
  line L30 (-173.3, 33.5) -> (-173.3, -33.5)
  arc A44 (-174.3, -34.5) -> (-173.3, -33.5) centre (-174.3, -33.5) ccw
  line L31 (-174.3, -34.5) -> (-220.3, -34.5)
  arc A45 (-221.3, -33.5) -> (-220.3, -34.5) centre (-220.3, -33.5) ccw
  circle A46 centre (-210.3, -39.5) radius 2.125
  circle A47 centre (-127.9286, -39.5) radius 2.125
  circle A48 centre (-127.9286, 39.5) radius 2.125
  circle A49 centre (-153.9286, 39.5) radius 2.125
  line L32 (60.5571, -33.5) -> (60.5571, 33.5)
  arc A50 (61.5571, 34.5) -> (60.5571, 33.5) centre (61.5571, 33.5) ccw
  line L33 (61.5571, 34.5) -> (107.5571, 34.5)
  arc A51 (108.5571, 33.5) -> (107.5571, 34.5) centre (107.5571, 33.5) ccw
  line L34 (108.5571, 33.5) -> (108.5571, -33.5)
  arc A52 (107.5571, -34.5) -> (108.5571, -33.5) centre (107.5571, -33.5) ccw
  line L35 (107.5571, -34.5) -> (61.5571, -34.5)
  arc A53 (60.5571, -33.5) -> (61.5571, -34.5) centre (61.5571, -33.5) ccw
  circle A54 centre (-97.5571, 39.5) radius 2.125
  circle A55 centre (71.5571, 39.5) radius 2.125
  circle A56 centre (-41.1857, -39.5) radius 2.125
  circle A57 centre (-71.5571, -39.5) radius 2.125
  circle A58 centre (97.5571, 39.5) radius 2.125
  line L36 (-108.5571, -33.5) -> (-108.5571, 33.5)
  arc A59 (-107.5571, 34.5) -> (-108.5571, 33.5) centre (-107.5571, 33.5) ccw
  line L37 (-107.5571, 34.5) -> (-61.5571, 34.5)
  arc A60 (-60.5571, 33.5) -> (-61.5571, 34.5) centre (-61.5571, 33.5) ccw
  line L38 (-60.5571, 33.5) -> (-60.5571, -33.5)
  arc A61 (-61.5571, -34.5) -> (-60.5571, -33.5) centre (-61.5571, -33.5) ccw
  line L39 (-61.5571, -34.5) -> (-107.5571, -34.5)
  arc A62 (-108.5571, -33.5) -> (-107.5571, -34.5) centre (-107.5571, -33.5) ccw
  circle A63 centre (-97.5571, -39.5) radius 2.125
  circle A64 centre (-71.5571, 39.5) radius 2.125
  circle A65 centre (15.1857, -39.5) radius 2.125
  circle A66 centre (-41.1857, 39.5) radius 2.125
  circle A67 centre (15.1857, 39.5) radius 2.125
  line L40 (116.9286, -33.5) -> (116.9286, 33.5)
  arc A68 (117.9286, 34.5) -> (116.9286, 33.5) centre (117.9286, 33.5) ccw
  line L41 (117.9286, 34.5) -> (163.9286, 34.5)
  arc A69 (164.9286, 33.5) -> (163.9286, 34.5) centre (163.9286, 33.5) ccw
  line L42 (164.9286, 33.5) -> (164.9286, -33.5)
  arc A70 (163.9286, -34.5) -> (164.9286, -33.5) centre (163.9286, -33.5) ccw
  line L43 (163.9286, -34.5) -> (117.9286, -34.5)
  arc A71 (116.9286, -33.5) -> (117.9286, -34.5) centre (117.9286, -33.5) ccw
  circle A72 centre (153.9286, 39.5) radius 2.125
  circle A73 centre (97.5571, -39.5) radius 2.125
  circle A74 centre (127.9286, 39.5) radius 2.125
  circle A75 centre (71.5571, -39.5) radius 2.125
component "Component" placed x (1, 0, 0) y (0, 1, 0) z (0, 0, 1) at (0, 0, 0)
equation "d5 = d3"
equation "d9 = d6"
equation "d16 = d15"
